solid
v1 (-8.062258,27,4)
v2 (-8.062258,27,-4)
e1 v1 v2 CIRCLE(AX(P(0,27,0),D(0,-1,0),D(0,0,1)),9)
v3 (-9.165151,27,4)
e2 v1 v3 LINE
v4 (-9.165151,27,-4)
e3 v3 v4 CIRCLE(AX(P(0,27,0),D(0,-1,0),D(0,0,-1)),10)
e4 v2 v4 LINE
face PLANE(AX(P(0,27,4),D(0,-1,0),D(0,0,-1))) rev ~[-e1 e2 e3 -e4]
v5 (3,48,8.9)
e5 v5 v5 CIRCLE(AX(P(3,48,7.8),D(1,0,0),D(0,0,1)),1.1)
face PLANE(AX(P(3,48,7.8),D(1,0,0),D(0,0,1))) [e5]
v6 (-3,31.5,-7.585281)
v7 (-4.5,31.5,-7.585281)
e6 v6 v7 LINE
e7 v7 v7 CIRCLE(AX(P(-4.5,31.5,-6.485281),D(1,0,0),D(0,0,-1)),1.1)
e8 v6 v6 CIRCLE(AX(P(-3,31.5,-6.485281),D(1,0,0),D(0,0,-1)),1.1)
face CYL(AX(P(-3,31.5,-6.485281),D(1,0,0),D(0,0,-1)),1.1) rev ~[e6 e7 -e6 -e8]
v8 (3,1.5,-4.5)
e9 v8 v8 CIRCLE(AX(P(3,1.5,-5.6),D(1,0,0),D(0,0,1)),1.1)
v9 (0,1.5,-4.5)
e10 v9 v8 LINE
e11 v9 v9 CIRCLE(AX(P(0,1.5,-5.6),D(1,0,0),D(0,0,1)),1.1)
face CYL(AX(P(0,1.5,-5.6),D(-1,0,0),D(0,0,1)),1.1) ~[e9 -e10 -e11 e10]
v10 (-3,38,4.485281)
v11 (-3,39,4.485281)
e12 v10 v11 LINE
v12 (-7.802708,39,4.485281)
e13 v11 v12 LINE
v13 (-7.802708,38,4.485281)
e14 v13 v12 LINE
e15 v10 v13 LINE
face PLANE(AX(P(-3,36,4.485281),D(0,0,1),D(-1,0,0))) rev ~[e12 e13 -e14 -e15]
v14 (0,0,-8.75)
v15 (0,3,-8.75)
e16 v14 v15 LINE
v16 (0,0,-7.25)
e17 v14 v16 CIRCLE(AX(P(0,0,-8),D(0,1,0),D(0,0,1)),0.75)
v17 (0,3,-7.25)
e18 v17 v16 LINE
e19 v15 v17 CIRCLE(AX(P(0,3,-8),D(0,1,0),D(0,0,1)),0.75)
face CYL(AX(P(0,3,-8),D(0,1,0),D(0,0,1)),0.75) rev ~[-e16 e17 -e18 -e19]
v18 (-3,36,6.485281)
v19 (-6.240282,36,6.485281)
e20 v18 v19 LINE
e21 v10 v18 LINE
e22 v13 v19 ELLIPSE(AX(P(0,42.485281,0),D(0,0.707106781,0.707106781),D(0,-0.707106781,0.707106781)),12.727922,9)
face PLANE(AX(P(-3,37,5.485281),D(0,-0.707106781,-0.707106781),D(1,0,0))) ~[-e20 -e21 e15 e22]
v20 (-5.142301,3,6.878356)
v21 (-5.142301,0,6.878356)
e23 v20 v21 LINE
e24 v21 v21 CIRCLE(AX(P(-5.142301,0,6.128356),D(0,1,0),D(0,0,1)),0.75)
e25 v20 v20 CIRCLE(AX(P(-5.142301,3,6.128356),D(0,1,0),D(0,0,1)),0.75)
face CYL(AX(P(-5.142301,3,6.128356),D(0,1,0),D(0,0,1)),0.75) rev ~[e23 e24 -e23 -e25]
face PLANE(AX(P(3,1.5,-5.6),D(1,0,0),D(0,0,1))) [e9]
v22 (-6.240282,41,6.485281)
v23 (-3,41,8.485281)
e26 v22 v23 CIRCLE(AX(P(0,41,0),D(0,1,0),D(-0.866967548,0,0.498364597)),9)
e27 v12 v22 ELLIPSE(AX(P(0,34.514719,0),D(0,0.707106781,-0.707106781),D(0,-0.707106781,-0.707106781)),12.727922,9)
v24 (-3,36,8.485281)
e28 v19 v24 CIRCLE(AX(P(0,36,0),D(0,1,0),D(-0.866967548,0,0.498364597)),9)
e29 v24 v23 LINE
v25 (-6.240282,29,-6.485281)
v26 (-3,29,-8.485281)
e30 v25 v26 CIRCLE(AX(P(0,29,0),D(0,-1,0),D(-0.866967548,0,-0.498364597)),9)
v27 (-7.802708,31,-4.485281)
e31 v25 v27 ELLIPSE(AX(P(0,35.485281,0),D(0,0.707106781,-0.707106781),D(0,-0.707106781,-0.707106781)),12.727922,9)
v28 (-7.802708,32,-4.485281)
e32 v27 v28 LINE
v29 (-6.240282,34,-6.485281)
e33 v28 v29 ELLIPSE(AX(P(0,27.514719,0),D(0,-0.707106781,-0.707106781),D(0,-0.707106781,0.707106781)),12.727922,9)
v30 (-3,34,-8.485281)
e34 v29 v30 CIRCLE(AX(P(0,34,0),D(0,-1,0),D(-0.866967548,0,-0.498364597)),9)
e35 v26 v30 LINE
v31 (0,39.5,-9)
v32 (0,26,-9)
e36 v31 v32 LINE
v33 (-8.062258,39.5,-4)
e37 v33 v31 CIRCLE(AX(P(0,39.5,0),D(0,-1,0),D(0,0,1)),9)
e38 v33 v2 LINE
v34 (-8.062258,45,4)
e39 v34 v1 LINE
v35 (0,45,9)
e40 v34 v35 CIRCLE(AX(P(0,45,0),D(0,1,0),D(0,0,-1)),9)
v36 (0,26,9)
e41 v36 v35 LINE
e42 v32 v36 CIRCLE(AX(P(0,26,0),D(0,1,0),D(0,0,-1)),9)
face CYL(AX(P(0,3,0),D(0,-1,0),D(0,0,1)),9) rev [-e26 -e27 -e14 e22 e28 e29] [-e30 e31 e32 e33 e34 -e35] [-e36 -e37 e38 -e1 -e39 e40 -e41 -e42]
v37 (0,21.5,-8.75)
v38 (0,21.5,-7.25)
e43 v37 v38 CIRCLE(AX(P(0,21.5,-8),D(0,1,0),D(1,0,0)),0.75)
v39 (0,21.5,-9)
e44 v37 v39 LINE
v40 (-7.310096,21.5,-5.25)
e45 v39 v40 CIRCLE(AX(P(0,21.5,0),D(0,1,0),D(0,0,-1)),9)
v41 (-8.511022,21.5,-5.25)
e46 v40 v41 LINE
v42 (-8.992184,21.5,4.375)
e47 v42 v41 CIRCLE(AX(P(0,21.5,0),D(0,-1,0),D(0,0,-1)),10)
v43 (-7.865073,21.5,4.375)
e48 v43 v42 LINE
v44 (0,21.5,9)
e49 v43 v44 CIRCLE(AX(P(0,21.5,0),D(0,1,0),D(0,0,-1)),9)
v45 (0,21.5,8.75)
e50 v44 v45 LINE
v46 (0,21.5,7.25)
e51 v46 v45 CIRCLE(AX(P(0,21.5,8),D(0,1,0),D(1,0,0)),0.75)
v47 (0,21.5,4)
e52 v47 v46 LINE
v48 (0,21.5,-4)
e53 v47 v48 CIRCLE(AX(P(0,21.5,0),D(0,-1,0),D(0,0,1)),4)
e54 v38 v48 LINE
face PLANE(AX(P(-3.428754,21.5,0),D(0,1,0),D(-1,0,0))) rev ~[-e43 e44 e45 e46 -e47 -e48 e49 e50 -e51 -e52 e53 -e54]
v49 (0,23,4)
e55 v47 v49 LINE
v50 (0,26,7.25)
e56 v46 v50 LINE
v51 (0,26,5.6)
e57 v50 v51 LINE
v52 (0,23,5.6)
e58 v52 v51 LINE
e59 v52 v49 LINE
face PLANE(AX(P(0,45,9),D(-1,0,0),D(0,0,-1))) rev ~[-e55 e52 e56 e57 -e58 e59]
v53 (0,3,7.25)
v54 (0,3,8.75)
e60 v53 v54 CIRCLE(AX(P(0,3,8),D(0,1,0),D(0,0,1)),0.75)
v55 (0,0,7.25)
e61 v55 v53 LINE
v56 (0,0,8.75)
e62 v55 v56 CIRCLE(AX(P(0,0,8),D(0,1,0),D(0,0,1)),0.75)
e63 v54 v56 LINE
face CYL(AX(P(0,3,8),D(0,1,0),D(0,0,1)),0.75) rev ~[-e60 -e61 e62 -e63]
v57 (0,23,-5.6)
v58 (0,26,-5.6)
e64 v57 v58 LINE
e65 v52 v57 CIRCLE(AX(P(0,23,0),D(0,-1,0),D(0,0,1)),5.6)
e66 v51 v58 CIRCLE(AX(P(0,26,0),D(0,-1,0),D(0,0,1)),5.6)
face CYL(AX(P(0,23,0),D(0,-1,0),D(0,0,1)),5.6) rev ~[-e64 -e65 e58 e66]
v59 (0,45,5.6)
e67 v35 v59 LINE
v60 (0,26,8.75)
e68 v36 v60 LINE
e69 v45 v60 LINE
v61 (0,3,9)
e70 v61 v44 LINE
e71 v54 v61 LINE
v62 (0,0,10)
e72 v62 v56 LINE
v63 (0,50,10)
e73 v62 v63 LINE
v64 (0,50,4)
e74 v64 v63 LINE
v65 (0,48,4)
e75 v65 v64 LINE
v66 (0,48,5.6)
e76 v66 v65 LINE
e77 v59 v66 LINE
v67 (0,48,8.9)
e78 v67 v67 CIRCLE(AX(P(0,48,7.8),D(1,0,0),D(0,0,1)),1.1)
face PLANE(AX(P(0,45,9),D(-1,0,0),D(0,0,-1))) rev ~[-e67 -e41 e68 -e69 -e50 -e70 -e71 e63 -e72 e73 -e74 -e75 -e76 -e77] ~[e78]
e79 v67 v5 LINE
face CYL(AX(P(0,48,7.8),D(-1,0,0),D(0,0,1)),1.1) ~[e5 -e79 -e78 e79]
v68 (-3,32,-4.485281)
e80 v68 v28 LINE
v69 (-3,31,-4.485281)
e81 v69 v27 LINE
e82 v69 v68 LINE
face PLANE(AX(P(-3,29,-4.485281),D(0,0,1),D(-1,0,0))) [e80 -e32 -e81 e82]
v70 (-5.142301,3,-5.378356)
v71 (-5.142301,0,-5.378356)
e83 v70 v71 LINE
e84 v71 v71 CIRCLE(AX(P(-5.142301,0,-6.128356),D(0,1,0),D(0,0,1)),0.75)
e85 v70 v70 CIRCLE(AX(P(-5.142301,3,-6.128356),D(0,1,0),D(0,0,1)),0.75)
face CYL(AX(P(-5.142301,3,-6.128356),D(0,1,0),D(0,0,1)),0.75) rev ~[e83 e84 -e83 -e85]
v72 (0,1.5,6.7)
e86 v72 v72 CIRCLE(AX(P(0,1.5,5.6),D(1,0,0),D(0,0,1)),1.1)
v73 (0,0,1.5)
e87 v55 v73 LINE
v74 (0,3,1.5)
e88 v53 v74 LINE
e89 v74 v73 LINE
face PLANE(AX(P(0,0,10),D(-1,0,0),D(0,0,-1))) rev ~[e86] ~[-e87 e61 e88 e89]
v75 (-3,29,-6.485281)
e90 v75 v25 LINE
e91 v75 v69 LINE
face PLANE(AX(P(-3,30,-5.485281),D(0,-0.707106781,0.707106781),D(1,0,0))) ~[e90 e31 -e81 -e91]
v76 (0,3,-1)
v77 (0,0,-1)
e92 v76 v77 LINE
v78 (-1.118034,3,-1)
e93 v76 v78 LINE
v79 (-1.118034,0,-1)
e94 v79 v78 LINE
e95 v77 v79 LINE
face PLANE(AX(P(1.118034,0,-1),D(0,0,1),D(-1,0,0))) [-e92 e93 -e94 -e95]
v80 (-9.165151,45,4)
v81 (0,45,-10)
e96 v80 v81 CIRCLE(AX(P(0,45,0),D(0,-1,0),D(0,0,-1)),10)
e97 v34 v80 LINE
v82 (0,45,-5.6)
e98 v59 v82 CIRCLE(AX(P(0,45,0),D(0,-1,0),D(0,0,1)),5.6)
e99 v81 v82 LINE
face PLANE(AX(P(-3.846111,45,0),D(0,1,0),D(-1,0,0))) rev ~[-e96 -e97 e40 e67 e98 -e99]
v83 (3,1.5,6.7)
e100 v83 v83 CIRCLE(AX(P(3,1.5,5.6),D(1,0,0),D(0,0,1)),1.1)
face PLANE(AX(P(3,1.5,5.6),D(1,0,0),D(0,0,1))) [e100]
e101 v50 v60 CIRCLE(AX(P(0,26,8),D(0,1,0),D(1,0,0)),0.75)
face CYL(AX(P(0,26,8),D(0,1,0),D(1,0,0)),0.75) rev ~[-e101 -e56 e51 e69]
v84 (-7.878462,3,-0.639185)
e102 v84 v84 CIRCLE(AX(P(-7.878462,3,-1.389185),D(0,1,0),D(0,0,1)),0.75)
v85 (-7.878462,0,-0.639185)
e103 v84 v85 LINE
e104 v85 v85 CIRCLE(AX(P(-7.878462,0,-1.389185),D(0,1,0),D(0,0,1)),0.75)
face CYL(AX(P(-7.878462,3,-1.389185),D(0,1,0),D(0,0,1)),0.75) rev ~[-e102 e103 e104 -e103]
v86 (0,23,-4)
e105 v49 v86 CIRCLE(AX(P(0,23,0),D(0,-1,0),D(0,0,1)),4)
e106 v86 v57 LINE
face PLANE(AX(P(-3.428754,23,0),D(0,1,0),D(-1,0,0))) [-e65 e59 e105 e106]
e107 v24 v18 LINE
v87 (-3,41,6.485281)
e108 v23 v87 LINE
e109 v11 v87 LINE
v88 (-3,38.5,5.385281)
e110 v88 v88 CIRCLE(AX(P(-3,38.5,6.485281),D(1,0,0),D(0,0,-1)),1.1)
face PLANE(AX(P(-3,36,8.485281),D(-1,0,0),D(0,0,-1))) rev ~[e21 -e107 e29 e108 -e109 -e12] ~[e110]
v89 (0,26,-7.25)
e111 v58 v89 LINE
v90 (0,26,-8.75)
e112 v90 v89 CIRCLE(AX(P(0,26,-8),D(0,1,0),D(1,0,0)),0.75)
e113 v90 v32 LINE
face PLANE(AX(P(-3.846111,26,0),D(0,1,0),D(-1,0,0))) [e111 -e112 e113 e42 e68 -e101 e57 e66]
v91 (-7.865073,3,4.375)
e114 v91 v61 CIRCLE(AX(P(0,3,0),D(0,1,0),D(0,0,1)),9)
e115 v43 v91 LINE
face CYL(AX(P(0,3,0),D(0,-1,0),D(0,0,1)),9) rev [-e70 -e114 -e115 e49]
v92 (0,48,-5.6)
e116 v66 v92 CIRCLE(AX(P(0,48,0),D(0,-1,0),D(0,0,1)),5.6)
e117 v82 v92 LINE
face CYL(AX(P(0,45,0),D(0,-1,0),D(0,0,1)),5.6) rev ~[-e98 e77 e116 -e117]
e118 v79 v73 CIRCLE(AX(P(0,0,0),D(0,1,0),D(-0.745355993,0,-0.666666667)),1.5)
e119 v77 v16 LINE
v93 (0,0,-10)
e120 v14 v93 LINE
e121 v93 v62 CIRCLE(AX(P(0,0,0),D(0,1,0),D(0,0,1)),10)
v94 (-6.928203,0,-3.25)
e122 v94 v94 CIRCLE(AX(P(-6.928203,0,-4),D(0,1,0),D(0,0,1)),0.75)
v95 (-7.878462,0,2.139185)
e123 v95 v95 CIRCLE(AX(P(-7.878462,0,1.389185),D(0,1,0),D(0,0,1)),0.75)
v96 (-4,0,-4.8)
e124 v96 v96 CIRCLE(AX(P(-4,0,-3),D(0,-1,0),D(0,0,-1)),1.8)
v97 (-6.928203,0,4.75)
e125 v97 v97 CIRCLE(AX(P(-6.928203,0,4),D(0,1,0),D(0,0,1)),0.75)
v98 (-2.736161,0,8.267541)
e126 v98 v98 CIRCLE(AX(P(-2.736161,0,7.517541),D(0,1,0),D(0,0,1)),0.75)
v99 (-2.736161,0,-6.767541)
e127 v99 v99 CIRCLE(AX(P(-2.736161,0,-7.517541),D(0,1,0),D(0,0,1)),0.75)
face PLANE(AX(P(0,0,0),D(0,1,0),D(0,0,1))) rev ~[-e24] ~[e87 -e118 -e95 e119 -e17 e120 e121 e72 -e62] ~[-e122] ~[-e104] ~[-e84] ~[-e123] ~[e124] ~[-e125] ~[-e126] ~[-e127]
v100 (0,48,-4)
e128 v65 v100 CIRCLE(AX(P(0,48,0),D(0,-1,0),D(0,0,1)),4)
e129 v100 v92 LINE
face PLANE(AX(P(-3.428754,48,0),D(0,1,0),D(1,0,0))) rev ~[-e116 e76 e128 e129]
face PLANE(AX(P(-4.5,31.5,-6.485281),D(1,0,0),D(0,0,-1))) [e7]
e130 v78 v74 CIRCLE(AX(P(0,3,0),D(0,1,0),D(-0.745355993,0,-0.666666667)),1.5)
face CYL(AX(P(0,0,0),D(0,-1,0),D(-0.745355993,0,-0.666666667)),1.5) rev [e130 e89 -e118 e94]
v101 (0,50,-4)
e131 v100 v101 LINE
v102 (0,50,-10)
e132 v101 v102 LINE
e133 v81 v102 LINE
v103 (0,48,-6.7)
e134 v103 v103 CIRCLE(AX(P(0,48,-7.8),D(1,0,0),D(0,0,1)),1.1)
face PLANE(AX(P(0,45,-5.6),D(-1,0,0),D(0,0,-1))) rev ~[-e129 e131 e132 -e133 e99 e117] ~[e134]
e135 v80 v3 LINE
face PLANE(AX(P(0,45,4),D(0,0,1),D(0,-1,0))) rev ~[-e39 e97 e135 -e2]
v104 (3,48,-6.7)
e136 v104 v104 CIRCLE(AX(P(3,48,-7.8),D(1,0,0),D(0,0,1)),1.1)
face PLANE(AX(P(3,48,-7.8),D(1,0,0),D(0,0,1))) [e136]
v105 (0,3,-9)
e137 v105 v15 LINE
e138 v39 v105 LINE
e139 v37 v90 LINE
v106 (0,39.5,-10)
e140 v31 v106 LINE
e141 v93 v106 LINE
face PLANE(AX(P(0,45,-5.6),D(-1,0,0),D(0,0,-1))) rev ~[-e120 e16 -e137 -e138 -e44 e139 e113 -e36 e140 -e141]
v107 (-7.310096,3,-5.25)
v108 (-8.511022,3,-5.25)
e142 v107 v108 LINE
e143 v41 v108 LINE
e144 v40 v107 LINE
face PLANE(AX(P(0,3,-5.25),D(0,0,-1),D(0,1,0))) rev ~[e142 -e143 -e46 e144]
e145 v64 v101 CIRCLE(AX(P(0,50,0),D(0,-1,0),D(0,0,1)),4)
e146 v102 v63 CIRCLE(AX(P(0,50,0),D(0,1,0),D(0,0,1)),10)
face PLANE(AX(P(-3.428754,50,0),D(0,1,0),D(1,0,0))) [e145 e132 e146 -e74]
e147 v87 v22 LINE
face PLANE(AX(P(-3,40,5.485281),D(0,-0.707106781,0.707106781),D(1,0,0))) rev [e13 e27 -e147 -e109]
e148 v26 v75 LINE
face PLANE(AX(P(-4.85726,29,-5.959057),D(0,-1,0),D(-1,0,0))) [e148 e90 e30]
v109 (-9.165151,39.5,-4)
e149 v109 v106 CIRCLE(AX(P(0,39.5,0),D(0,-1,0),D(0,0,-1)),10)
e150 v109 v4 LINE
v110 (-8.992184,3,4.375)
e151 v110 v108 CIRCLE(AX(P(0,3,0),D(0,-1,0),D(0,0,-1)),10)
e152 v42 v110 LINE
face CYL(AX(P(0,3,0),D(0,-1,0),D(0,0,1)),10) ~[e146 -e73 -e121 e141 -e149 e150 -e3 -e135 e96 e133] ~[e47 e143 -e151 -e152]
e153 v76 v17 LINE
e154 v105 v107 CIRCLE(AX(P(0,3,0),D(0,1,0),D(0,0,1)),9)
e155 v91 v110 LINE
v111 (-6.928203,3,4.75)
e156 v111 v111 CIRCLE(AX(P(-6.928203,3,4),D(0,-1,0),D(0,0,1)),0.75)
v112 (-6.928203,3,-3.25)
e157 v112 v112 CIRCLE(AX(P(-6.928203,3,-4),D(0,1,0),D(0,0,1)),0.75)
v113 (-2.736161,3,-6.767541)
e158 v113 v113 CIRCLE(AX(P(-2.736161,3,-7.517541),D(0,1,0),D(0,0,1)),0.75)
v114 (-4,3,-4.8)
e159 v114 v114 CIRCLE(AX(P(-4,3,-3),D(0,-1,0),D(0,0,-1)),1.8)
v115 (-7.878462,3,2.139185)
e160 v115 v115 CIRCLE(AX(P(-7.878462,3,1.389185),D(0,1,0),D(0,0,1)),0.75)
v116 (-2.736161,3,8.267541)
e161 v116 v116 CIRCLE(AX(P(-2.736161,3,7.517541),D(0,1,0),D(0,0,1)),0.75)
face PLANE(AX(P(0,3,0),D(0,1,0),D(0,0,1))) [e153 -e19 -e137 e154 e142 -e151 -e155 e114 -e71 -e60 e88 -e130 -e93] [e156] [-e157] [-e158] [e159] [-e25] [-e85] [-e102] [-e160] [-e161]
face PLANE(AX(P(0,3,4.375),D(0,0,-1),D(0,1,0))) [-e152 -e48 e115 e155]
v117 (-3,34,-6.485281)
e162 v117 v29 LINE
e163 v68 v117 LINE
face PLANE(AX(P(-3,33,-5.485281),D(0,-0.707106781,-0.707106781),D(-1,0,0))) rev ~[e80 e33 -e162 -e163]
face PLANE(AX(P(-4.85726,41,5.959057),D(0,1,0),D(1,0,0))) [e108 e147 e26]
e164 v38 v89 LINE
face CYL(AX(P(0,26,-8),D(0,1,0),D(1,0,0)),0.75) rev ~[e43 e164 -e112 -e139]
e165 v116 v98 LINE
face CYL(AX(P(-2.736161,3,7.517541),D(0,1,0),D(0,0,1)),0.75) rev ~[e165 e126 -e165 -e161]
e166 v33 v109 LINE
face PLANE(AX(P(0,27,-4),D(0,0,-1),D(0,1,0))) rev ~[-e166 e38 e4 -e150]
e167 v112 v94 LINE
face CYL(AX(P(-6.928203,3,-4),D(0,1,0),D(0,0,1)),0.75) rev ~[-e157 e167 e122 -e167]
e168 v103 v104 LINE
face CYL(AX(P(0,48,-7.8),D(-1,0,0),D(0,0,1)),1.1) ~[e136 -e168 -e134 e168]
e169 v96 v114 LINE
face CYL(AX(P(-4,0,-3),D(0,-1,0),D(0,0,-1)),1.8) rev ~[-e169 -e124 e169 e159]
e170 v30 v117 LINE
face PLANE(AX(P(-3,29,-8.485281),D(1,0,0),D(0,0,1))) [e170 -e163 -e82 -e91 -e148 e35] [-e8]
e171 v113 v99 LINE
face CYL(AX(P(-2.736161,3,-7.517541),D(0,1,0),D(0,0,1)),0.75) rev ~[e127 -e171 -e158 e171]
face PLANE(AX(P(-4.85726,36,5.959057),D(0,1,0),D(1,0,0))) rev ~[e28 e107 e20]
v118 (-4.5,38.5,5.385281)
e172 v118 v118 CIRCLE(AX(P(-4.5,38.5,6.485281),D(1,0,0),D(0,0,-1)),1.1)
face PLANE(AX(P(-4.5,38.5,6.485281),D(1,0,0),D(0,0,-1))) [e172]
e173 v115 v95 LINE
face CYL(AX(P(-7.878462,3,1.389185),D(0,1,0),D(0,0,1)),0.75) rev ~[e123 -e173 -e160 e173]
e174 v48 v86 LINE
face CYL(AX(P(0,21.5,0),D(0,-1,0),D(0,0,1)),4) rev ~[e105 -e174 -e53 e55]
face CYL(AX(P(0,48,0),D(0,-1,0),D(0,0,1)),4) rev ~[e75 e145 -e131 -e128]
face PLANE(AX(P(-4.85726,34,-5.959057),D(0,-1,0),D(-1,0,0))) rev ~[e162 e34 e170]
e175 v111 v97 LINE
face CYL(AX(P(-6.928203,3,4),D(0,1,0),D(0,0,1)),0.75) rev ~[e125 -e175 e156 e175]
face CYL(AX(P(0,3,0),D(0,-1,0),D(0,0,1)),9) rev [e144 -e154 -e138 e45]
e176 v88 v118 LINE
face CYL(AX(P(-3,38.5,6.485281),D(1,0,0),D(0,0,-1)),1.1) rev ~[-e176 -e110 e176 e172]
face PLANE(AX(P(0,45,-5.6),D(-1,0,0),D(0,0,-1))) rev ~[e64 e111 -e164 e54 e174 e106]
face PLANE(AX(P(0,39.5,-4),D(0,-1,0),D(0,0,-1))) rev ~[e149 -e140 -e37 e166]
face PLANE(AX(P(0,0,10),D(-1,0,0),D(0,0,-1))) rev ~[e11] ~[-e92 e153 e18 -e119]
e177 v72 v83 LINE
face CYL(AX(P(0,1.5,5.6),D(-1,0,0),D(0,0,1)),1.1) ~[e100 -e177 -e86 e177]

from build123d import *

# Parameters (mm, degrees)
SKETCH_1_R               = 10
EXTRUDE_1_DEPTH          = 3
CUT_EXTRUDE_1_REACH      = 16.457
SKETCH_2_R               = 0.75
SKETCH_3_R               = 10
SKETCH_3_R_2             = 9
EXTRUDE_2_DEPTH          = 47
CUT_EXTRUDE_START        = -50
CUT_EXTRUDE_2_DEPTH      = 50
EXTRUDE_START            = -23
EXTRUDE_5_DEPTH          = 3
EXTRUDE_START_2          = 1.5
EXTRUDE_6_DEPTH          = 1.5
EXTRUDE_START_3          = -2
EXTRUDE_7_DEPTH          = 2
EXTRUDE_START_4          = 3
EXTRUDE_8_DEPTH          = 3
SKETCH_13_R              = 0.75
CUT_EXTRUDE_5_DEPTH      = 30.597297174
CUT_EXTRUDE_6_REACH      = 53.962
CUT_EXTRUDE_6_END_RADIUS = 10
SKETCH_14_W              = 9.625
SKETCH_14_H              = 18.5
CUT_EXTRUDE_7_REACH      = 53.962
CUT_EXTRUDE_7_END_RADIUS = 10
SKETCH_16_R              = 1.1
EXTRUDE_9_DEPTH          = 3
BOSS_EXTRUDE1_DEPTH      = 5
BOSS_EXTRUDE2_START      = -5
BOSS_EXTRUDE2_DEPTH      = 5
SKETCH3_R                = 1.1
CUT_EXTRUDE1_DEPTH       = 1.5
CHAMFER1_SIZE            = 2
CUT_EXTRUDE2_REACH       = 53.962
SKETCH4_R                = 1.8


with BuildPart() as part:
    # 草图1 → 凸台-拉伸1 (new body)
    with BuildSketch(Plane(origin=(0, 0, 0), x_dir=(1, 0, 0), z_dir=(0, 1, 0))):
        with Locations(Location((0, 0, 0), (0, 0, 270))):
            Circle(SKETCH_1_R)
        with BuildLine():
            Line((1.118033989, 1), (-1.118033989, 1))
            ThreePointArc((-1.118033989, 1), (0, -1.5), (1.118033989, 1))
        make_face(mode=Mode.SUBTRACT)
    extrude(amount=EXTRUDE_1_DEPTH)

    # 草图2 → 切除-拉伸1 (cut, up to next)
    with BuildSketch(Plane(origin=(0, 3, 0), x_dir=(1, 0, 0), z_dir=(0, 1, 0)), mode=Mode.PRIVATE) as cut_extrude_1_sk1:
        with Locations(Location((0, 8, 0), (0, 0, 270))):
            Circle(SKETCH_2_R)
    cut_extrude_1_tool1 = extrude(cut_extrude_1_sk1.sketch, amount=-CUT_EXTRUDE_1_REACH, mode=Mode.PRIVATE) & part.part
    # 草图2 → 切除-拉伸1 (cut, up to next)
    with BuildSketch(Plane(origin=(0, 3, 0), x_dir=(1, 0, 0), z_dir=(0, 1, 0)), mode=Mode.PRIVATE) as cut_extrude_1_sk2:
        with Locations(Location((2.736161147, 7.517540966, 0), (0, 0, 270))):
            Circle(SKETCH_2_R)
    cut_extrude_1_tool2 = extrude(cut_extrude_1_sk2.sketch, amount=-CUT_EXTRUDE_1_REACH, mode=Mode.PRIVATE) & part.part
    # 草图2 → 切除-拉伸1 (cut, up to next)
    with BuildSketch(Plane(origin=(0, 3, 0), x_dir=(1, 0, 0), z_dir=(0, 1, 0)), mode=Mode.PRIVATE) as cut_extrude_1_sk3:
        with Locations(Location((5.142300877, 6.128355545, 0), (0, 0, 270))):
            Circle(SKETCH_2_R)
    cut_extrude_1_tool3 = extrude(cut_extrude_1_sk3.sketch, amount=-CUT_EXTRUDE_1_REACH, mode=Mode.PRIVATE) & part.part
    # 草图2 → 切除-拉伸1 (cut, up to next)
    with BuildSketch(Plane(origin=(0, 3, 0), x_dir=(1, 0, 0), z_dir=(0, 1, 0)), mode=Mode.PRIVATE) as cut_extrude_1_sk4:
        with Locations(Location((6.92820323, 4, 0), (0, 0, 270))):
            Circle(SKETCH_2_R)
    cut_extrude_1_tool4 = extrude(cut_extrude_1_sk4.sketch, amount=-CUT_EXTRUDE_1_REACH, mode=Mode.PRIVATE) & part.part
    # 草图2 → 切除-拉伸1 (cut, up to next)
    with BuildSketch(Plane(origin=(0, 3, 0), x_dir=(1, 0, 0), z_dir=(0, 1, 0)), mode=Mode.PRIVATE) as cut_extrude_1_sk5:
        with Locations(Location((7.878462024, 1.389185421, 0), (0, 0, 270))):
            Circle(SKETCH_2_R)
    cut_extrude_1_tool5 = extrude(cut_extrude_1_sk5.sketch, amount=-CUT_EXTRUDE_1_REACH, mode=Mode.PRIVATE) & part.part
    # 草图2 → 切除-拉伸1 (cut, up to next)
    with BuildSketch(Plane(origin=(0, 3, 0), x_dir=(1, 0, 0), z_dir=(0, 1, 0)), mode=Mode.PRIVATE) as cut_extrude_1_sk6:
        with Locations(Location((7.878462024, -1.389185421, 0), (0, 0, 270))):
            Circle(SKETCH_2_R)
    cut_extrude_1_tool6 = extrude(cut_extrude_1_sk6.sketch, amount=-CUT_EXTRUDE_1_REACH, mode=Mode.PRIVATE) & part.part
    # 草图2 → 切除-拉伸1 (cut, up to next)
    with BuildSketch(Plane(origin=(0, 3, 0), x_dir=(1, 0, 0), z_dir=(0, 1, 0)), mode=Mode.PRIVATE) as cut_extrude_1_sk7:
        with Locations(Location((6.92820323, -4, 0), (0, 0, 270))):
            Circle(SKETCH_2_R)
    cut_extrude_1_tool7 = extrude(cut_extrude_1_sk7.sketch, amount=-CUT_EXTRUDE_1_REACH, mode=Mode.PRIVATE) & part.part
    # 草图2 → 切除-拉伸1 (cut, up to next)
    with BuildSketch(Plane(origin=(0, 3, 0), x_dir=(1, 0, 0), z_dir=(0, 1, 0)), mode=Mode.PRIVATE) as cut_extrude_1_sk8:
        with Locations(Location((5.142300877, -6.128355545, 0), (0, 0, 270))):
            Circle(SKETCH_2_R)
    cut_extrude_1_tool8 = extrude(cut_extrude_1_sk8.sketch, amount=-CUT_EXTRUDE_1_REACH, mode=Mode.PRIVATE) & part.part
    # 草图2 → 切除-拉伸1 (cut, up to next)
    with BuildSketch(Plane(origin=(0, 3, 0), x_dir=(1, 0, 0), z_dir=(0, 1, 0)), mode=Mode.PRIVATE) as cut_extrude_1_sk9:
        with Locations(Location((2.736161147, -7.517540966, 0), (0, 0, 270))):
            Circle(SKETCH_2_R)
    cut_extrude_1_tool9 = extrude(cut_extrude_1_sk9.sketch, amount=-CUT_EXTRUDE_1_REACH, mode=Mode.PRIVATE) & part.part
    # 草图2 → 切除-拉伸1 (cut, up to next)
    with BuildSketch(Plane(origin=(0, 3, 0), x_dir=(1, 0, 0), z_dir=(0, 1, 0)), mode=Mode.PRIVATE) as cut_extrude_1_sk10:
        with Locations(Location((0, -8, 0), (0, 0, 270))):
            Circle(SKETCH_2_R)
    cut_extrude_1_tool10 = extrude(cut_extrude_1_sk10.sketch, amount=-CUT_EXTRUDE_1_REACH, mode=Mode.PRIVATE) & part.part
    # 草图2 → 切除-拉伸1 (cut, up to next)
    with BuildSketch(Plane(origin=(0, 3, 0), x_dir=(1, 0, 0), z_dir=(0, 1, 0)), mode=Mode.PRIVATE) as cut_extrude_1_sk11:
        with Locations(Location((-2.736161147, -7.517540966, 0), (0, 0, 270))):
            Circle(SKETCH_2_R)
    cut_extrude_1_tool11 = extrude(cut_extrude_1_sk11.sketch, amount=-CUT_EXTRUDE_1_REACH, mode=Mode.PRIVATE) & part.part
    # 草图2 → 切除-拉伸1 (cut, up to next)
    with BuildSketch(Plane(origin=(0, 3, 0), x_dir=(1, 0, 0), z_dir=(0, 1, 0)), mode=Mode.PRIVATE) as cut_extrude_1_sk12:
        with Locations(Location((-5.142300877, -6.128355545, 0), (0, 0, 270))):
            Circle(SKETCH_2_R)
    cut_extrude_1_tool12 = extrude(cut_extrude_1_sk12.sketch, amount=-CUT_EXTRUDE_1_REACH, mode=Mode.PRIVATE) & part.part
    # 草图2 → 切除-拉伸1 (cut, up to next)
    with BuildSketch(Plane(origin=(0, 3, 0), x_dir=(1, 0, 0), z_dir=(0, 1, 0)), mode=Mode.PRIVATE) as cut_extrude_1_sk13:
        with Locations(Location((-6.92820323, -4, 0), (0, 0, 270))):
            Circle(SKETCH_2_R)
    cut_extrude_1_tool13 = extrude(cut_extrude_1_sk13.sketch, amount=-CUT_EXTRUDE_1_REACH, mode=Mode.PRIVATE) & part.part
    # 草图2 → 切除-拉伸1 (cut, up to next)
    with BuildSketch(Plane(origin=(0, 3, 0), x_dir=(1, 0, 0), z_dir=(0, 1, 0)), mode=Mode.PRIVATE) as cut_extrude_1_sk14:
        with Locations(Location((-7.878462024, -1.389185421, 0), (0, 0, 270))):
            Circle(SKETCH_2_R)
    cut_extrude_1_tool14 = extrude(cut_extrude_1_sk14.sketch, amount=-CUT_EXTRUDE_1_REACH, mode=Mode.PRIVATE) & part.part
    # 草图2 → 切除-拉伸1 (cut, up to next)
    with BuildSketch(Plane(origin=(0, 3, 0), x_dir=(1, 0, 0), z_dir=(0, 1, 0)), mode=Mode.PRIVATE) as cut_extrude_1_sk15:
        with Locations(Location((-7.878462024, 1.389185421, 0), (0, 0, 270))):
            Circle(SKETCH_2_R)
    cut_extrude_1_tool15 = extrude(cut_extrude_1_sk15.sketch, amount=-CUT_EXTRUDE_1_REACH, mode=Mode.PRIVATE) & part.part
    # 草图2 → 切除-拉伸1 (cut, up to next)
    with BuildSketch(Plane(origin=(0, 3, 0), x_dir=(1, 0, 0), z_dir=(0, 1, 0)), mode=Mode.PRIVATE) as cut_extrude_1_sk16:
        with Locations(Location((-6.92820323, 4, 0), (0, 0, 270))):
            Circle(SKETCH_2_R)
    cut_extrude_1_tool16 = extrude(cut_extrude_1_sk16.sketch, amount=-CUT_EXTRUDE_1_REACH, mode=Mode.PRIVATE) & part.part
    # 草图2 → 切除-拉伸1 (cut, up to next)
    with BuildSketch(Plane(origin=(0, 3, 0), x_dir=(1, 0, 0), z_dir=(0, 1, 0)), mode=Mode.PRIVATE) as cut_extrude_1_sk17:
        with Locations(Location((-5.142300877, 6.128355545, 0), (0, 0, 270))):
            Circle(SKETCH_2_R)
    cut_extrude_1_tool17 = extrude(cut_extrude_1_sk17.sketch, amount=-CUT_EXTRUDE_1_REACH, mode=Mode.PRIVATE) & part.part
    # 草图2 → 切除-拉伸1 (cut, up to next)
    with BuildSketch(Plane(origin=(0, 3, 0), x_dir=(1, 0, 0), z_dir=(0, 1, 0)), mode=Mode.PRIVATE) as cut_extrude_1_sk18:
        with Locations(Location((-2.736161147, 7.517540966, 0), (0, 0, 270))):
            Circle(SKETCH_2_R)
    cut_extrude_1_tool18 = extrude(cut_extrude_1_sk18.sketch, amount=-CUT_EXTRUDE_1_REACH, mode=Mode.PRIVATE) & part.part
    add(cut_extrude_1_tool1.solids().sort_by_distance((0, 3, -8))[0], mode=Mode.SUBTRACT)
    add(cut_extrude_1_tool2.solids().sort_by_distance((2.736161, 3, -7.517541))[0], mode=Mode.SUBTRACT)
    add(cut_extrude_1_tool3.solids().sort_by_distance((5.142301, 3, -6.128356))[0], mode=Mode.SUBTRACT)
    add(cut_extrude_1_tool4.solids().sort_by_distance((6.928203, 3, -4))[0], mode=Mode.SUBTRACT)
    add(cut_extrude_1_tool5.solids().sort_by_distance((7.878462, 3, -1.389185))[0], mode=Mode.SUBTRACT)
    add(cut_extrude_1_tool6.solids().sort_by_distance((7.878462, 3, 1.389185))[0], mode=Mode.SUBTRACT)
    add(cut_extrude_1_tool7.solids().sort_by_distance((6.928203, 3, 4))[0], mode=Mode.SUBTRACT)
    add(cut_extrude_1_tool8.solids().sort_by_distance((5.142301, 3, 6.128356))[0], mode=Mode.SUBTRACT)
    add(cut_extrude_1_tool9.solids().sort_by_distance((2.736161, 3, 7.517541))[0], mode=Mode.SUBTRACT)
    add(cut_extrude_1_tool10.solids().sort_by_distance((0, 3, 8))[0], mode=Mode.SUBTRACT)
    add(cut_extrude_1_tool11.solids().sort_by_distance((-2.736161, 3, 7.517541))[0], mode=Mode.SUBTRACT)
    add(cut_extrude_1_tool12.solids().sort_by_distance((-5.142301, 3, 6.128356))[0], mode=Mode.SUBTRACT)
    add(cut_extrude_1_tool13.solids().sort_by_distance((-6.928203, 3, 4))[0], mode=Mode.SUBTRACT)
    add(cut_extrude_1_tool14.solids().sort_by_distance((-7.878462, 3, 1.389185))[0], mode=Mode.SUBTRACT)
    add(cut_extrude_1_tool15.solids().sort_by_distance((-7.878462, 3, -1.389185))[0], mode=Mode.SUBTRACT)
    add(cut_extrude_1_tool16.solids().sort_by_distance((-6.928203, 3, -4))[0], mode=Mode.SUBTRACT)
    add(cut_extrude_1_tool17.solids().sort_by_distance((-5.142301, 3, -6.128356))[0], mode=Mode.SUBTRACT)
    add(cut_extrude_1_tool18.solids().sort_by_distance((-2.736161, 3, -7.517541))[0], mode=Mode.SUBTRACT)

    # 草图3 → 凸台-拉伸2 (add)
    with BuildSketch(Plane(origin=(0, 3, 0), x_dir=(1, 0, 0), z_dir=(0, 1, 0))):
        with Locations(Location((0, 0, 0), (0, 0, 270))):
            Circle(SKETCH_3_R)
        with Locations(Location((0, 0, 0), (0, 0, 270))):
            Circle(SKETCH_3_R_2, mode=Mode.SUBTRACT)
    extrude(amount=EXTRUDE_2_DEPTH)

    # 草图4 → 切除-拉伸2 (cut)
    with BuildSketch(Plane(origin=(0, 50, 0), x_dir=(1, 0, 0), z_dir=(0, 1, 0)).offset(CUT_EXTRUDE_START)):
        with BuildLine():
            Line((0, -10), (0, 10))
            ThreePointArc((0, 10), (10, 0), (0, -10))
        make_face()
    extrude(amount=CUT_EXTRUDE_2_DEPTH, mode=Mode.SUBTRACT)

    # 草图9 → 凸台-拉伸5 (add)
    with BuildSketch(Plane.XZ.offset(EXTRUDE_START)):
        with BuildLine():
            Line((0, 9), (0, 5.6))
            ThreePointArc((0, 5.6), (-5.6, 0), (0, -5.6))
            Line((0, -5.6), (0, -9))
            ThreePointArc((0, -9), (-9, 0), (0, 9))
        make_face()
    extrude(amount=-EXTRUDE_5_DEPTH)

    # 草图10 → 凸台-拉伸6 (add)
    with BuildSketch(Plane.XZ.offset(-23).offset(EXTRUDE_START_2)):
        with BuildLine():
            Line((0, 9), (0, 4))
            ThreePointArc((0, 4), (-4, 0), (0, -4))
            Line((0, -4), (0, -9))
            ThreePointArc((0, -9), (-9, 0), (0, 9))
        make_face()
    extrude(amount=-EXTRUDE_6_DEPTH)

    # 草图11 → 凸台-拉伸7 (add)
    with BuildSketch(Plane(origin=(0, 50, 0), x_dir=(1, 0, 0), z_dir=(0, 1, 0)).offset(EXTRUDE_START_3)):
        with BuildLine():
            Line((0, -9), (0, -4))
            ThreePointArc((0, -4), (-4, 0), (0, 4))
            Line((0, 4), (0, 9))
            ThreePointArc((0, 9), (-9, 0), (0, -9))
        make_face()
    extrude(amount=EXTRUDE_7_DEPTH)

    # 草图12 → 凸台-拉伸8 (add)
    with BuildSketch(Plane.XZ.offset(-48).offset(EXTRUDE_START_4)):
        with BuildLine():
            Line((0, 9), (0, 5.6))
            ThreePointArc((0, 5.6), (-5.6, 0), (0, -5.6))
            Line((0, -5.6), (0, -9))
            ThreePointArc((0, -9), (-9, 0), (0, 9))
        make_face()
    extrude(amount=-EXTRUDE_8_DEPTH)

    # 草图13 → 切除-拉伸5 (cut, through all)
    with BuildSketch(Plane(origin=(0, 26, 0), x_dir=(1, 0, 0), z_dir=(0, 1, 0))):
        with Locations((0, 8)):
            Circle(SKETCH_13_R)
        with Locations((0, -8)):
            Circle(SKETCH_13_R)
    extrude(amount=-CUT_EXTRUDE_5_DEPTH, mode=Mode.SUBTRACT)

    # 切除-拉伸6: up to this cylinder (the profile starts inside it)
    cut_extrude_6_end = Plane(origin=(0, 12.25, 0), z_dir=(0, -1, 0)) * Cylinder(CUT_EXTRUDE_6_END_RADIUS, 128.924, mode=Mode.PRIVATE)
    # 草图14 → 切除-拉伸6 (cut, up to the surface)
    with BuildSketch(Plane(origin=(0, 0, 0), x_dir=(0, 0, -1), z_dir=(1, 0, 0)), mode=Mode.PRIVATE) as cut_extrude_6_sk1:
        with Locations((0.4375, 12.25)):
            Rectangle(SKETCH_14_W, SKETCH_14_H)
    cut_extrude_6_tool1 = extrude(cut_extrude_6_sk1.sketch, amount=-CUT_EXTRUDE_6_REACH, mode=Mode.PRIVATE) & cut_extrude_6_end
    add(cut_extrude_6_tool1.solids().sort_by_distance((0, 12.25, -0.4375))[0], mode=Mode.SUBTRACT)

    # 切除-拉伸7: up to this cylinder (the profile starts inside it)
    cut_extrude_7_end = Plane(origin=(0, 37.165254, 0), z_dir=(0, -1, 0)) * Cylinder(CUT_EXTRUDE_7_END_RADIUS, 128.924, mode=Mode.PRIVATE)
    # 草图15 → 切除-拉伸7 (cut, up to the surface)
    with BuildSketch(Plane(origin=(0, 0, 0), x_dir=(0, 0, -1), z_dir=(1, 0, 0)), mode=Mode.PRIVATE) as cut_extrude_7_sk1:
        Polygon((3.637279597, 45), (-4, 45), (-4, 27), (4, 27), (4, 39.5), (10, 39.5), (10, 45), align=None)
    cut_extrude_7_tool1 = extrude(cut_extrude_7_sk1.sketch, amount=-CUT_EXTRUDE_7_REACH, mode=Mode.PRIVATE) & cut_extrude_7_end
    add(cut_extrude_7_tool1.solids().sort_by_distance((0, 37.165254, -1.305085))[0], mode=Mode.SUBTRACT)

    # 草图16 → 凸台-拉伸9 (add)
    with BuildSketch(Plane(origin=(0, 0, 0), x_dir=(0, 0, -1), z_dir=(1, 0, 0))):
        with Locations(Location((-7.8, 48, 0), (0, 0, 180))):
            Circle(SKETCH_16_R)
        with Locations(Location((7.8, 48, 0), (0, 0, 180))):
            Circle(SKETCH_16_R)
        with Locations(Location((-5.6, 1.5, 0), (0, 0, 180))):
            Circle(SKETCH_16_R)
        with Locations(Location((5.6, 1.5, 0), (0, 0, 180))):
            Circle(SKETCH_16_R)
    extrude(amount=EXTRUDE_9_DEPTH)

    # Sketch1 → Boss-Extrude1 (add)
    with BuildSketch(Plane(origin=(0, 29, 0), x_dir=(1, 0, 0), z_dir=(0, 1, 0))):
        with BuildLine():
            Line((-3, 4.485281374), (-7.802707927, 4.485281374))
            ThreePointArc((-7.802707927, 4.485281374), (-5.759741716, 6.9155893), (-3, 8.485281374))
            Line((-3, 8.485281374), (-3, 4.485281374))
        make_face()
    extrude(amount=BOSS_EXTRUDE1_DEPTH)

    # Sketch2 → Boss-Extrude2 (add)
    with BuildSketch(Plane(origin=(0, 41, 0), x_dir=(1, 0, 0), z_dir=(0, 1, 0)).offset(BOSS_EXTRUDE2_START)):
        with BuildLine():
            Line((-3, -4.485281374), (-7.802707927, -4.485281374))
            ThreePointArc((-7.802707927, -4.485281374), (-5.759741716, -6.9155893), (-3, -8.485281374))
            Line((-3, -8.485281374), (-3, -4.485281374))
        make_face()
    extrude(amount=BOSS_EXTRUDE2_DEPTH)

    # Sketch3 → Cut-Extrude1 (cut)
    with BuildSketch(Plane(origin=(-3, 0, 0), x_dir=(0, 0, -1), z_dir=(1, 0, 0))):
        with Locations((-6.485281374, 38.5)):
            Circle(SKETCH3_R)
        with Locations((6.485281374, 31.5)):
            Circle(SKETCH3_R)
    extrude(amount=-CUT_EXTRUDE1_DEPTH, mode=Mode.SUBTRACT)

    # Chamfer1
    chamfer1_edges = [part.edges().sort_by_distance(p)[0] for p in [
        (-5.401353963, 29, -4.485281374),
        (-5.401353963, 34, -4.485281374),
        (-5.401353963, 36, 4.485281374),
        (-5.401353963, 41, 4.485281374),
    ]]
    chamfer(chamfer1_edges, length=CHAMFER1_SIZE)

    # Sketch4 → Cut-Extrude2 (cut, up to next)
    with BuildSketch(Plane.XZ, mode=Mode.PRIVATE) as cut_extrude2_sk1:
        with Locations(Location((-4, -3, 0), (0, 0, 270))):
            Circle(SKETCH4_R)
    cut_extrude2_tool1 = extrude(cut_extrude2_sk1.sketch, amount=-CUT_EXTRUDE2_REACH, mode=Mode.PRIVATE) & part.part
    add(cut_extrude2_tool1.solids().sort_by_distance((-4, 0, -3))[0], mode=Mode.SUBTRACT)


solid = part.part
